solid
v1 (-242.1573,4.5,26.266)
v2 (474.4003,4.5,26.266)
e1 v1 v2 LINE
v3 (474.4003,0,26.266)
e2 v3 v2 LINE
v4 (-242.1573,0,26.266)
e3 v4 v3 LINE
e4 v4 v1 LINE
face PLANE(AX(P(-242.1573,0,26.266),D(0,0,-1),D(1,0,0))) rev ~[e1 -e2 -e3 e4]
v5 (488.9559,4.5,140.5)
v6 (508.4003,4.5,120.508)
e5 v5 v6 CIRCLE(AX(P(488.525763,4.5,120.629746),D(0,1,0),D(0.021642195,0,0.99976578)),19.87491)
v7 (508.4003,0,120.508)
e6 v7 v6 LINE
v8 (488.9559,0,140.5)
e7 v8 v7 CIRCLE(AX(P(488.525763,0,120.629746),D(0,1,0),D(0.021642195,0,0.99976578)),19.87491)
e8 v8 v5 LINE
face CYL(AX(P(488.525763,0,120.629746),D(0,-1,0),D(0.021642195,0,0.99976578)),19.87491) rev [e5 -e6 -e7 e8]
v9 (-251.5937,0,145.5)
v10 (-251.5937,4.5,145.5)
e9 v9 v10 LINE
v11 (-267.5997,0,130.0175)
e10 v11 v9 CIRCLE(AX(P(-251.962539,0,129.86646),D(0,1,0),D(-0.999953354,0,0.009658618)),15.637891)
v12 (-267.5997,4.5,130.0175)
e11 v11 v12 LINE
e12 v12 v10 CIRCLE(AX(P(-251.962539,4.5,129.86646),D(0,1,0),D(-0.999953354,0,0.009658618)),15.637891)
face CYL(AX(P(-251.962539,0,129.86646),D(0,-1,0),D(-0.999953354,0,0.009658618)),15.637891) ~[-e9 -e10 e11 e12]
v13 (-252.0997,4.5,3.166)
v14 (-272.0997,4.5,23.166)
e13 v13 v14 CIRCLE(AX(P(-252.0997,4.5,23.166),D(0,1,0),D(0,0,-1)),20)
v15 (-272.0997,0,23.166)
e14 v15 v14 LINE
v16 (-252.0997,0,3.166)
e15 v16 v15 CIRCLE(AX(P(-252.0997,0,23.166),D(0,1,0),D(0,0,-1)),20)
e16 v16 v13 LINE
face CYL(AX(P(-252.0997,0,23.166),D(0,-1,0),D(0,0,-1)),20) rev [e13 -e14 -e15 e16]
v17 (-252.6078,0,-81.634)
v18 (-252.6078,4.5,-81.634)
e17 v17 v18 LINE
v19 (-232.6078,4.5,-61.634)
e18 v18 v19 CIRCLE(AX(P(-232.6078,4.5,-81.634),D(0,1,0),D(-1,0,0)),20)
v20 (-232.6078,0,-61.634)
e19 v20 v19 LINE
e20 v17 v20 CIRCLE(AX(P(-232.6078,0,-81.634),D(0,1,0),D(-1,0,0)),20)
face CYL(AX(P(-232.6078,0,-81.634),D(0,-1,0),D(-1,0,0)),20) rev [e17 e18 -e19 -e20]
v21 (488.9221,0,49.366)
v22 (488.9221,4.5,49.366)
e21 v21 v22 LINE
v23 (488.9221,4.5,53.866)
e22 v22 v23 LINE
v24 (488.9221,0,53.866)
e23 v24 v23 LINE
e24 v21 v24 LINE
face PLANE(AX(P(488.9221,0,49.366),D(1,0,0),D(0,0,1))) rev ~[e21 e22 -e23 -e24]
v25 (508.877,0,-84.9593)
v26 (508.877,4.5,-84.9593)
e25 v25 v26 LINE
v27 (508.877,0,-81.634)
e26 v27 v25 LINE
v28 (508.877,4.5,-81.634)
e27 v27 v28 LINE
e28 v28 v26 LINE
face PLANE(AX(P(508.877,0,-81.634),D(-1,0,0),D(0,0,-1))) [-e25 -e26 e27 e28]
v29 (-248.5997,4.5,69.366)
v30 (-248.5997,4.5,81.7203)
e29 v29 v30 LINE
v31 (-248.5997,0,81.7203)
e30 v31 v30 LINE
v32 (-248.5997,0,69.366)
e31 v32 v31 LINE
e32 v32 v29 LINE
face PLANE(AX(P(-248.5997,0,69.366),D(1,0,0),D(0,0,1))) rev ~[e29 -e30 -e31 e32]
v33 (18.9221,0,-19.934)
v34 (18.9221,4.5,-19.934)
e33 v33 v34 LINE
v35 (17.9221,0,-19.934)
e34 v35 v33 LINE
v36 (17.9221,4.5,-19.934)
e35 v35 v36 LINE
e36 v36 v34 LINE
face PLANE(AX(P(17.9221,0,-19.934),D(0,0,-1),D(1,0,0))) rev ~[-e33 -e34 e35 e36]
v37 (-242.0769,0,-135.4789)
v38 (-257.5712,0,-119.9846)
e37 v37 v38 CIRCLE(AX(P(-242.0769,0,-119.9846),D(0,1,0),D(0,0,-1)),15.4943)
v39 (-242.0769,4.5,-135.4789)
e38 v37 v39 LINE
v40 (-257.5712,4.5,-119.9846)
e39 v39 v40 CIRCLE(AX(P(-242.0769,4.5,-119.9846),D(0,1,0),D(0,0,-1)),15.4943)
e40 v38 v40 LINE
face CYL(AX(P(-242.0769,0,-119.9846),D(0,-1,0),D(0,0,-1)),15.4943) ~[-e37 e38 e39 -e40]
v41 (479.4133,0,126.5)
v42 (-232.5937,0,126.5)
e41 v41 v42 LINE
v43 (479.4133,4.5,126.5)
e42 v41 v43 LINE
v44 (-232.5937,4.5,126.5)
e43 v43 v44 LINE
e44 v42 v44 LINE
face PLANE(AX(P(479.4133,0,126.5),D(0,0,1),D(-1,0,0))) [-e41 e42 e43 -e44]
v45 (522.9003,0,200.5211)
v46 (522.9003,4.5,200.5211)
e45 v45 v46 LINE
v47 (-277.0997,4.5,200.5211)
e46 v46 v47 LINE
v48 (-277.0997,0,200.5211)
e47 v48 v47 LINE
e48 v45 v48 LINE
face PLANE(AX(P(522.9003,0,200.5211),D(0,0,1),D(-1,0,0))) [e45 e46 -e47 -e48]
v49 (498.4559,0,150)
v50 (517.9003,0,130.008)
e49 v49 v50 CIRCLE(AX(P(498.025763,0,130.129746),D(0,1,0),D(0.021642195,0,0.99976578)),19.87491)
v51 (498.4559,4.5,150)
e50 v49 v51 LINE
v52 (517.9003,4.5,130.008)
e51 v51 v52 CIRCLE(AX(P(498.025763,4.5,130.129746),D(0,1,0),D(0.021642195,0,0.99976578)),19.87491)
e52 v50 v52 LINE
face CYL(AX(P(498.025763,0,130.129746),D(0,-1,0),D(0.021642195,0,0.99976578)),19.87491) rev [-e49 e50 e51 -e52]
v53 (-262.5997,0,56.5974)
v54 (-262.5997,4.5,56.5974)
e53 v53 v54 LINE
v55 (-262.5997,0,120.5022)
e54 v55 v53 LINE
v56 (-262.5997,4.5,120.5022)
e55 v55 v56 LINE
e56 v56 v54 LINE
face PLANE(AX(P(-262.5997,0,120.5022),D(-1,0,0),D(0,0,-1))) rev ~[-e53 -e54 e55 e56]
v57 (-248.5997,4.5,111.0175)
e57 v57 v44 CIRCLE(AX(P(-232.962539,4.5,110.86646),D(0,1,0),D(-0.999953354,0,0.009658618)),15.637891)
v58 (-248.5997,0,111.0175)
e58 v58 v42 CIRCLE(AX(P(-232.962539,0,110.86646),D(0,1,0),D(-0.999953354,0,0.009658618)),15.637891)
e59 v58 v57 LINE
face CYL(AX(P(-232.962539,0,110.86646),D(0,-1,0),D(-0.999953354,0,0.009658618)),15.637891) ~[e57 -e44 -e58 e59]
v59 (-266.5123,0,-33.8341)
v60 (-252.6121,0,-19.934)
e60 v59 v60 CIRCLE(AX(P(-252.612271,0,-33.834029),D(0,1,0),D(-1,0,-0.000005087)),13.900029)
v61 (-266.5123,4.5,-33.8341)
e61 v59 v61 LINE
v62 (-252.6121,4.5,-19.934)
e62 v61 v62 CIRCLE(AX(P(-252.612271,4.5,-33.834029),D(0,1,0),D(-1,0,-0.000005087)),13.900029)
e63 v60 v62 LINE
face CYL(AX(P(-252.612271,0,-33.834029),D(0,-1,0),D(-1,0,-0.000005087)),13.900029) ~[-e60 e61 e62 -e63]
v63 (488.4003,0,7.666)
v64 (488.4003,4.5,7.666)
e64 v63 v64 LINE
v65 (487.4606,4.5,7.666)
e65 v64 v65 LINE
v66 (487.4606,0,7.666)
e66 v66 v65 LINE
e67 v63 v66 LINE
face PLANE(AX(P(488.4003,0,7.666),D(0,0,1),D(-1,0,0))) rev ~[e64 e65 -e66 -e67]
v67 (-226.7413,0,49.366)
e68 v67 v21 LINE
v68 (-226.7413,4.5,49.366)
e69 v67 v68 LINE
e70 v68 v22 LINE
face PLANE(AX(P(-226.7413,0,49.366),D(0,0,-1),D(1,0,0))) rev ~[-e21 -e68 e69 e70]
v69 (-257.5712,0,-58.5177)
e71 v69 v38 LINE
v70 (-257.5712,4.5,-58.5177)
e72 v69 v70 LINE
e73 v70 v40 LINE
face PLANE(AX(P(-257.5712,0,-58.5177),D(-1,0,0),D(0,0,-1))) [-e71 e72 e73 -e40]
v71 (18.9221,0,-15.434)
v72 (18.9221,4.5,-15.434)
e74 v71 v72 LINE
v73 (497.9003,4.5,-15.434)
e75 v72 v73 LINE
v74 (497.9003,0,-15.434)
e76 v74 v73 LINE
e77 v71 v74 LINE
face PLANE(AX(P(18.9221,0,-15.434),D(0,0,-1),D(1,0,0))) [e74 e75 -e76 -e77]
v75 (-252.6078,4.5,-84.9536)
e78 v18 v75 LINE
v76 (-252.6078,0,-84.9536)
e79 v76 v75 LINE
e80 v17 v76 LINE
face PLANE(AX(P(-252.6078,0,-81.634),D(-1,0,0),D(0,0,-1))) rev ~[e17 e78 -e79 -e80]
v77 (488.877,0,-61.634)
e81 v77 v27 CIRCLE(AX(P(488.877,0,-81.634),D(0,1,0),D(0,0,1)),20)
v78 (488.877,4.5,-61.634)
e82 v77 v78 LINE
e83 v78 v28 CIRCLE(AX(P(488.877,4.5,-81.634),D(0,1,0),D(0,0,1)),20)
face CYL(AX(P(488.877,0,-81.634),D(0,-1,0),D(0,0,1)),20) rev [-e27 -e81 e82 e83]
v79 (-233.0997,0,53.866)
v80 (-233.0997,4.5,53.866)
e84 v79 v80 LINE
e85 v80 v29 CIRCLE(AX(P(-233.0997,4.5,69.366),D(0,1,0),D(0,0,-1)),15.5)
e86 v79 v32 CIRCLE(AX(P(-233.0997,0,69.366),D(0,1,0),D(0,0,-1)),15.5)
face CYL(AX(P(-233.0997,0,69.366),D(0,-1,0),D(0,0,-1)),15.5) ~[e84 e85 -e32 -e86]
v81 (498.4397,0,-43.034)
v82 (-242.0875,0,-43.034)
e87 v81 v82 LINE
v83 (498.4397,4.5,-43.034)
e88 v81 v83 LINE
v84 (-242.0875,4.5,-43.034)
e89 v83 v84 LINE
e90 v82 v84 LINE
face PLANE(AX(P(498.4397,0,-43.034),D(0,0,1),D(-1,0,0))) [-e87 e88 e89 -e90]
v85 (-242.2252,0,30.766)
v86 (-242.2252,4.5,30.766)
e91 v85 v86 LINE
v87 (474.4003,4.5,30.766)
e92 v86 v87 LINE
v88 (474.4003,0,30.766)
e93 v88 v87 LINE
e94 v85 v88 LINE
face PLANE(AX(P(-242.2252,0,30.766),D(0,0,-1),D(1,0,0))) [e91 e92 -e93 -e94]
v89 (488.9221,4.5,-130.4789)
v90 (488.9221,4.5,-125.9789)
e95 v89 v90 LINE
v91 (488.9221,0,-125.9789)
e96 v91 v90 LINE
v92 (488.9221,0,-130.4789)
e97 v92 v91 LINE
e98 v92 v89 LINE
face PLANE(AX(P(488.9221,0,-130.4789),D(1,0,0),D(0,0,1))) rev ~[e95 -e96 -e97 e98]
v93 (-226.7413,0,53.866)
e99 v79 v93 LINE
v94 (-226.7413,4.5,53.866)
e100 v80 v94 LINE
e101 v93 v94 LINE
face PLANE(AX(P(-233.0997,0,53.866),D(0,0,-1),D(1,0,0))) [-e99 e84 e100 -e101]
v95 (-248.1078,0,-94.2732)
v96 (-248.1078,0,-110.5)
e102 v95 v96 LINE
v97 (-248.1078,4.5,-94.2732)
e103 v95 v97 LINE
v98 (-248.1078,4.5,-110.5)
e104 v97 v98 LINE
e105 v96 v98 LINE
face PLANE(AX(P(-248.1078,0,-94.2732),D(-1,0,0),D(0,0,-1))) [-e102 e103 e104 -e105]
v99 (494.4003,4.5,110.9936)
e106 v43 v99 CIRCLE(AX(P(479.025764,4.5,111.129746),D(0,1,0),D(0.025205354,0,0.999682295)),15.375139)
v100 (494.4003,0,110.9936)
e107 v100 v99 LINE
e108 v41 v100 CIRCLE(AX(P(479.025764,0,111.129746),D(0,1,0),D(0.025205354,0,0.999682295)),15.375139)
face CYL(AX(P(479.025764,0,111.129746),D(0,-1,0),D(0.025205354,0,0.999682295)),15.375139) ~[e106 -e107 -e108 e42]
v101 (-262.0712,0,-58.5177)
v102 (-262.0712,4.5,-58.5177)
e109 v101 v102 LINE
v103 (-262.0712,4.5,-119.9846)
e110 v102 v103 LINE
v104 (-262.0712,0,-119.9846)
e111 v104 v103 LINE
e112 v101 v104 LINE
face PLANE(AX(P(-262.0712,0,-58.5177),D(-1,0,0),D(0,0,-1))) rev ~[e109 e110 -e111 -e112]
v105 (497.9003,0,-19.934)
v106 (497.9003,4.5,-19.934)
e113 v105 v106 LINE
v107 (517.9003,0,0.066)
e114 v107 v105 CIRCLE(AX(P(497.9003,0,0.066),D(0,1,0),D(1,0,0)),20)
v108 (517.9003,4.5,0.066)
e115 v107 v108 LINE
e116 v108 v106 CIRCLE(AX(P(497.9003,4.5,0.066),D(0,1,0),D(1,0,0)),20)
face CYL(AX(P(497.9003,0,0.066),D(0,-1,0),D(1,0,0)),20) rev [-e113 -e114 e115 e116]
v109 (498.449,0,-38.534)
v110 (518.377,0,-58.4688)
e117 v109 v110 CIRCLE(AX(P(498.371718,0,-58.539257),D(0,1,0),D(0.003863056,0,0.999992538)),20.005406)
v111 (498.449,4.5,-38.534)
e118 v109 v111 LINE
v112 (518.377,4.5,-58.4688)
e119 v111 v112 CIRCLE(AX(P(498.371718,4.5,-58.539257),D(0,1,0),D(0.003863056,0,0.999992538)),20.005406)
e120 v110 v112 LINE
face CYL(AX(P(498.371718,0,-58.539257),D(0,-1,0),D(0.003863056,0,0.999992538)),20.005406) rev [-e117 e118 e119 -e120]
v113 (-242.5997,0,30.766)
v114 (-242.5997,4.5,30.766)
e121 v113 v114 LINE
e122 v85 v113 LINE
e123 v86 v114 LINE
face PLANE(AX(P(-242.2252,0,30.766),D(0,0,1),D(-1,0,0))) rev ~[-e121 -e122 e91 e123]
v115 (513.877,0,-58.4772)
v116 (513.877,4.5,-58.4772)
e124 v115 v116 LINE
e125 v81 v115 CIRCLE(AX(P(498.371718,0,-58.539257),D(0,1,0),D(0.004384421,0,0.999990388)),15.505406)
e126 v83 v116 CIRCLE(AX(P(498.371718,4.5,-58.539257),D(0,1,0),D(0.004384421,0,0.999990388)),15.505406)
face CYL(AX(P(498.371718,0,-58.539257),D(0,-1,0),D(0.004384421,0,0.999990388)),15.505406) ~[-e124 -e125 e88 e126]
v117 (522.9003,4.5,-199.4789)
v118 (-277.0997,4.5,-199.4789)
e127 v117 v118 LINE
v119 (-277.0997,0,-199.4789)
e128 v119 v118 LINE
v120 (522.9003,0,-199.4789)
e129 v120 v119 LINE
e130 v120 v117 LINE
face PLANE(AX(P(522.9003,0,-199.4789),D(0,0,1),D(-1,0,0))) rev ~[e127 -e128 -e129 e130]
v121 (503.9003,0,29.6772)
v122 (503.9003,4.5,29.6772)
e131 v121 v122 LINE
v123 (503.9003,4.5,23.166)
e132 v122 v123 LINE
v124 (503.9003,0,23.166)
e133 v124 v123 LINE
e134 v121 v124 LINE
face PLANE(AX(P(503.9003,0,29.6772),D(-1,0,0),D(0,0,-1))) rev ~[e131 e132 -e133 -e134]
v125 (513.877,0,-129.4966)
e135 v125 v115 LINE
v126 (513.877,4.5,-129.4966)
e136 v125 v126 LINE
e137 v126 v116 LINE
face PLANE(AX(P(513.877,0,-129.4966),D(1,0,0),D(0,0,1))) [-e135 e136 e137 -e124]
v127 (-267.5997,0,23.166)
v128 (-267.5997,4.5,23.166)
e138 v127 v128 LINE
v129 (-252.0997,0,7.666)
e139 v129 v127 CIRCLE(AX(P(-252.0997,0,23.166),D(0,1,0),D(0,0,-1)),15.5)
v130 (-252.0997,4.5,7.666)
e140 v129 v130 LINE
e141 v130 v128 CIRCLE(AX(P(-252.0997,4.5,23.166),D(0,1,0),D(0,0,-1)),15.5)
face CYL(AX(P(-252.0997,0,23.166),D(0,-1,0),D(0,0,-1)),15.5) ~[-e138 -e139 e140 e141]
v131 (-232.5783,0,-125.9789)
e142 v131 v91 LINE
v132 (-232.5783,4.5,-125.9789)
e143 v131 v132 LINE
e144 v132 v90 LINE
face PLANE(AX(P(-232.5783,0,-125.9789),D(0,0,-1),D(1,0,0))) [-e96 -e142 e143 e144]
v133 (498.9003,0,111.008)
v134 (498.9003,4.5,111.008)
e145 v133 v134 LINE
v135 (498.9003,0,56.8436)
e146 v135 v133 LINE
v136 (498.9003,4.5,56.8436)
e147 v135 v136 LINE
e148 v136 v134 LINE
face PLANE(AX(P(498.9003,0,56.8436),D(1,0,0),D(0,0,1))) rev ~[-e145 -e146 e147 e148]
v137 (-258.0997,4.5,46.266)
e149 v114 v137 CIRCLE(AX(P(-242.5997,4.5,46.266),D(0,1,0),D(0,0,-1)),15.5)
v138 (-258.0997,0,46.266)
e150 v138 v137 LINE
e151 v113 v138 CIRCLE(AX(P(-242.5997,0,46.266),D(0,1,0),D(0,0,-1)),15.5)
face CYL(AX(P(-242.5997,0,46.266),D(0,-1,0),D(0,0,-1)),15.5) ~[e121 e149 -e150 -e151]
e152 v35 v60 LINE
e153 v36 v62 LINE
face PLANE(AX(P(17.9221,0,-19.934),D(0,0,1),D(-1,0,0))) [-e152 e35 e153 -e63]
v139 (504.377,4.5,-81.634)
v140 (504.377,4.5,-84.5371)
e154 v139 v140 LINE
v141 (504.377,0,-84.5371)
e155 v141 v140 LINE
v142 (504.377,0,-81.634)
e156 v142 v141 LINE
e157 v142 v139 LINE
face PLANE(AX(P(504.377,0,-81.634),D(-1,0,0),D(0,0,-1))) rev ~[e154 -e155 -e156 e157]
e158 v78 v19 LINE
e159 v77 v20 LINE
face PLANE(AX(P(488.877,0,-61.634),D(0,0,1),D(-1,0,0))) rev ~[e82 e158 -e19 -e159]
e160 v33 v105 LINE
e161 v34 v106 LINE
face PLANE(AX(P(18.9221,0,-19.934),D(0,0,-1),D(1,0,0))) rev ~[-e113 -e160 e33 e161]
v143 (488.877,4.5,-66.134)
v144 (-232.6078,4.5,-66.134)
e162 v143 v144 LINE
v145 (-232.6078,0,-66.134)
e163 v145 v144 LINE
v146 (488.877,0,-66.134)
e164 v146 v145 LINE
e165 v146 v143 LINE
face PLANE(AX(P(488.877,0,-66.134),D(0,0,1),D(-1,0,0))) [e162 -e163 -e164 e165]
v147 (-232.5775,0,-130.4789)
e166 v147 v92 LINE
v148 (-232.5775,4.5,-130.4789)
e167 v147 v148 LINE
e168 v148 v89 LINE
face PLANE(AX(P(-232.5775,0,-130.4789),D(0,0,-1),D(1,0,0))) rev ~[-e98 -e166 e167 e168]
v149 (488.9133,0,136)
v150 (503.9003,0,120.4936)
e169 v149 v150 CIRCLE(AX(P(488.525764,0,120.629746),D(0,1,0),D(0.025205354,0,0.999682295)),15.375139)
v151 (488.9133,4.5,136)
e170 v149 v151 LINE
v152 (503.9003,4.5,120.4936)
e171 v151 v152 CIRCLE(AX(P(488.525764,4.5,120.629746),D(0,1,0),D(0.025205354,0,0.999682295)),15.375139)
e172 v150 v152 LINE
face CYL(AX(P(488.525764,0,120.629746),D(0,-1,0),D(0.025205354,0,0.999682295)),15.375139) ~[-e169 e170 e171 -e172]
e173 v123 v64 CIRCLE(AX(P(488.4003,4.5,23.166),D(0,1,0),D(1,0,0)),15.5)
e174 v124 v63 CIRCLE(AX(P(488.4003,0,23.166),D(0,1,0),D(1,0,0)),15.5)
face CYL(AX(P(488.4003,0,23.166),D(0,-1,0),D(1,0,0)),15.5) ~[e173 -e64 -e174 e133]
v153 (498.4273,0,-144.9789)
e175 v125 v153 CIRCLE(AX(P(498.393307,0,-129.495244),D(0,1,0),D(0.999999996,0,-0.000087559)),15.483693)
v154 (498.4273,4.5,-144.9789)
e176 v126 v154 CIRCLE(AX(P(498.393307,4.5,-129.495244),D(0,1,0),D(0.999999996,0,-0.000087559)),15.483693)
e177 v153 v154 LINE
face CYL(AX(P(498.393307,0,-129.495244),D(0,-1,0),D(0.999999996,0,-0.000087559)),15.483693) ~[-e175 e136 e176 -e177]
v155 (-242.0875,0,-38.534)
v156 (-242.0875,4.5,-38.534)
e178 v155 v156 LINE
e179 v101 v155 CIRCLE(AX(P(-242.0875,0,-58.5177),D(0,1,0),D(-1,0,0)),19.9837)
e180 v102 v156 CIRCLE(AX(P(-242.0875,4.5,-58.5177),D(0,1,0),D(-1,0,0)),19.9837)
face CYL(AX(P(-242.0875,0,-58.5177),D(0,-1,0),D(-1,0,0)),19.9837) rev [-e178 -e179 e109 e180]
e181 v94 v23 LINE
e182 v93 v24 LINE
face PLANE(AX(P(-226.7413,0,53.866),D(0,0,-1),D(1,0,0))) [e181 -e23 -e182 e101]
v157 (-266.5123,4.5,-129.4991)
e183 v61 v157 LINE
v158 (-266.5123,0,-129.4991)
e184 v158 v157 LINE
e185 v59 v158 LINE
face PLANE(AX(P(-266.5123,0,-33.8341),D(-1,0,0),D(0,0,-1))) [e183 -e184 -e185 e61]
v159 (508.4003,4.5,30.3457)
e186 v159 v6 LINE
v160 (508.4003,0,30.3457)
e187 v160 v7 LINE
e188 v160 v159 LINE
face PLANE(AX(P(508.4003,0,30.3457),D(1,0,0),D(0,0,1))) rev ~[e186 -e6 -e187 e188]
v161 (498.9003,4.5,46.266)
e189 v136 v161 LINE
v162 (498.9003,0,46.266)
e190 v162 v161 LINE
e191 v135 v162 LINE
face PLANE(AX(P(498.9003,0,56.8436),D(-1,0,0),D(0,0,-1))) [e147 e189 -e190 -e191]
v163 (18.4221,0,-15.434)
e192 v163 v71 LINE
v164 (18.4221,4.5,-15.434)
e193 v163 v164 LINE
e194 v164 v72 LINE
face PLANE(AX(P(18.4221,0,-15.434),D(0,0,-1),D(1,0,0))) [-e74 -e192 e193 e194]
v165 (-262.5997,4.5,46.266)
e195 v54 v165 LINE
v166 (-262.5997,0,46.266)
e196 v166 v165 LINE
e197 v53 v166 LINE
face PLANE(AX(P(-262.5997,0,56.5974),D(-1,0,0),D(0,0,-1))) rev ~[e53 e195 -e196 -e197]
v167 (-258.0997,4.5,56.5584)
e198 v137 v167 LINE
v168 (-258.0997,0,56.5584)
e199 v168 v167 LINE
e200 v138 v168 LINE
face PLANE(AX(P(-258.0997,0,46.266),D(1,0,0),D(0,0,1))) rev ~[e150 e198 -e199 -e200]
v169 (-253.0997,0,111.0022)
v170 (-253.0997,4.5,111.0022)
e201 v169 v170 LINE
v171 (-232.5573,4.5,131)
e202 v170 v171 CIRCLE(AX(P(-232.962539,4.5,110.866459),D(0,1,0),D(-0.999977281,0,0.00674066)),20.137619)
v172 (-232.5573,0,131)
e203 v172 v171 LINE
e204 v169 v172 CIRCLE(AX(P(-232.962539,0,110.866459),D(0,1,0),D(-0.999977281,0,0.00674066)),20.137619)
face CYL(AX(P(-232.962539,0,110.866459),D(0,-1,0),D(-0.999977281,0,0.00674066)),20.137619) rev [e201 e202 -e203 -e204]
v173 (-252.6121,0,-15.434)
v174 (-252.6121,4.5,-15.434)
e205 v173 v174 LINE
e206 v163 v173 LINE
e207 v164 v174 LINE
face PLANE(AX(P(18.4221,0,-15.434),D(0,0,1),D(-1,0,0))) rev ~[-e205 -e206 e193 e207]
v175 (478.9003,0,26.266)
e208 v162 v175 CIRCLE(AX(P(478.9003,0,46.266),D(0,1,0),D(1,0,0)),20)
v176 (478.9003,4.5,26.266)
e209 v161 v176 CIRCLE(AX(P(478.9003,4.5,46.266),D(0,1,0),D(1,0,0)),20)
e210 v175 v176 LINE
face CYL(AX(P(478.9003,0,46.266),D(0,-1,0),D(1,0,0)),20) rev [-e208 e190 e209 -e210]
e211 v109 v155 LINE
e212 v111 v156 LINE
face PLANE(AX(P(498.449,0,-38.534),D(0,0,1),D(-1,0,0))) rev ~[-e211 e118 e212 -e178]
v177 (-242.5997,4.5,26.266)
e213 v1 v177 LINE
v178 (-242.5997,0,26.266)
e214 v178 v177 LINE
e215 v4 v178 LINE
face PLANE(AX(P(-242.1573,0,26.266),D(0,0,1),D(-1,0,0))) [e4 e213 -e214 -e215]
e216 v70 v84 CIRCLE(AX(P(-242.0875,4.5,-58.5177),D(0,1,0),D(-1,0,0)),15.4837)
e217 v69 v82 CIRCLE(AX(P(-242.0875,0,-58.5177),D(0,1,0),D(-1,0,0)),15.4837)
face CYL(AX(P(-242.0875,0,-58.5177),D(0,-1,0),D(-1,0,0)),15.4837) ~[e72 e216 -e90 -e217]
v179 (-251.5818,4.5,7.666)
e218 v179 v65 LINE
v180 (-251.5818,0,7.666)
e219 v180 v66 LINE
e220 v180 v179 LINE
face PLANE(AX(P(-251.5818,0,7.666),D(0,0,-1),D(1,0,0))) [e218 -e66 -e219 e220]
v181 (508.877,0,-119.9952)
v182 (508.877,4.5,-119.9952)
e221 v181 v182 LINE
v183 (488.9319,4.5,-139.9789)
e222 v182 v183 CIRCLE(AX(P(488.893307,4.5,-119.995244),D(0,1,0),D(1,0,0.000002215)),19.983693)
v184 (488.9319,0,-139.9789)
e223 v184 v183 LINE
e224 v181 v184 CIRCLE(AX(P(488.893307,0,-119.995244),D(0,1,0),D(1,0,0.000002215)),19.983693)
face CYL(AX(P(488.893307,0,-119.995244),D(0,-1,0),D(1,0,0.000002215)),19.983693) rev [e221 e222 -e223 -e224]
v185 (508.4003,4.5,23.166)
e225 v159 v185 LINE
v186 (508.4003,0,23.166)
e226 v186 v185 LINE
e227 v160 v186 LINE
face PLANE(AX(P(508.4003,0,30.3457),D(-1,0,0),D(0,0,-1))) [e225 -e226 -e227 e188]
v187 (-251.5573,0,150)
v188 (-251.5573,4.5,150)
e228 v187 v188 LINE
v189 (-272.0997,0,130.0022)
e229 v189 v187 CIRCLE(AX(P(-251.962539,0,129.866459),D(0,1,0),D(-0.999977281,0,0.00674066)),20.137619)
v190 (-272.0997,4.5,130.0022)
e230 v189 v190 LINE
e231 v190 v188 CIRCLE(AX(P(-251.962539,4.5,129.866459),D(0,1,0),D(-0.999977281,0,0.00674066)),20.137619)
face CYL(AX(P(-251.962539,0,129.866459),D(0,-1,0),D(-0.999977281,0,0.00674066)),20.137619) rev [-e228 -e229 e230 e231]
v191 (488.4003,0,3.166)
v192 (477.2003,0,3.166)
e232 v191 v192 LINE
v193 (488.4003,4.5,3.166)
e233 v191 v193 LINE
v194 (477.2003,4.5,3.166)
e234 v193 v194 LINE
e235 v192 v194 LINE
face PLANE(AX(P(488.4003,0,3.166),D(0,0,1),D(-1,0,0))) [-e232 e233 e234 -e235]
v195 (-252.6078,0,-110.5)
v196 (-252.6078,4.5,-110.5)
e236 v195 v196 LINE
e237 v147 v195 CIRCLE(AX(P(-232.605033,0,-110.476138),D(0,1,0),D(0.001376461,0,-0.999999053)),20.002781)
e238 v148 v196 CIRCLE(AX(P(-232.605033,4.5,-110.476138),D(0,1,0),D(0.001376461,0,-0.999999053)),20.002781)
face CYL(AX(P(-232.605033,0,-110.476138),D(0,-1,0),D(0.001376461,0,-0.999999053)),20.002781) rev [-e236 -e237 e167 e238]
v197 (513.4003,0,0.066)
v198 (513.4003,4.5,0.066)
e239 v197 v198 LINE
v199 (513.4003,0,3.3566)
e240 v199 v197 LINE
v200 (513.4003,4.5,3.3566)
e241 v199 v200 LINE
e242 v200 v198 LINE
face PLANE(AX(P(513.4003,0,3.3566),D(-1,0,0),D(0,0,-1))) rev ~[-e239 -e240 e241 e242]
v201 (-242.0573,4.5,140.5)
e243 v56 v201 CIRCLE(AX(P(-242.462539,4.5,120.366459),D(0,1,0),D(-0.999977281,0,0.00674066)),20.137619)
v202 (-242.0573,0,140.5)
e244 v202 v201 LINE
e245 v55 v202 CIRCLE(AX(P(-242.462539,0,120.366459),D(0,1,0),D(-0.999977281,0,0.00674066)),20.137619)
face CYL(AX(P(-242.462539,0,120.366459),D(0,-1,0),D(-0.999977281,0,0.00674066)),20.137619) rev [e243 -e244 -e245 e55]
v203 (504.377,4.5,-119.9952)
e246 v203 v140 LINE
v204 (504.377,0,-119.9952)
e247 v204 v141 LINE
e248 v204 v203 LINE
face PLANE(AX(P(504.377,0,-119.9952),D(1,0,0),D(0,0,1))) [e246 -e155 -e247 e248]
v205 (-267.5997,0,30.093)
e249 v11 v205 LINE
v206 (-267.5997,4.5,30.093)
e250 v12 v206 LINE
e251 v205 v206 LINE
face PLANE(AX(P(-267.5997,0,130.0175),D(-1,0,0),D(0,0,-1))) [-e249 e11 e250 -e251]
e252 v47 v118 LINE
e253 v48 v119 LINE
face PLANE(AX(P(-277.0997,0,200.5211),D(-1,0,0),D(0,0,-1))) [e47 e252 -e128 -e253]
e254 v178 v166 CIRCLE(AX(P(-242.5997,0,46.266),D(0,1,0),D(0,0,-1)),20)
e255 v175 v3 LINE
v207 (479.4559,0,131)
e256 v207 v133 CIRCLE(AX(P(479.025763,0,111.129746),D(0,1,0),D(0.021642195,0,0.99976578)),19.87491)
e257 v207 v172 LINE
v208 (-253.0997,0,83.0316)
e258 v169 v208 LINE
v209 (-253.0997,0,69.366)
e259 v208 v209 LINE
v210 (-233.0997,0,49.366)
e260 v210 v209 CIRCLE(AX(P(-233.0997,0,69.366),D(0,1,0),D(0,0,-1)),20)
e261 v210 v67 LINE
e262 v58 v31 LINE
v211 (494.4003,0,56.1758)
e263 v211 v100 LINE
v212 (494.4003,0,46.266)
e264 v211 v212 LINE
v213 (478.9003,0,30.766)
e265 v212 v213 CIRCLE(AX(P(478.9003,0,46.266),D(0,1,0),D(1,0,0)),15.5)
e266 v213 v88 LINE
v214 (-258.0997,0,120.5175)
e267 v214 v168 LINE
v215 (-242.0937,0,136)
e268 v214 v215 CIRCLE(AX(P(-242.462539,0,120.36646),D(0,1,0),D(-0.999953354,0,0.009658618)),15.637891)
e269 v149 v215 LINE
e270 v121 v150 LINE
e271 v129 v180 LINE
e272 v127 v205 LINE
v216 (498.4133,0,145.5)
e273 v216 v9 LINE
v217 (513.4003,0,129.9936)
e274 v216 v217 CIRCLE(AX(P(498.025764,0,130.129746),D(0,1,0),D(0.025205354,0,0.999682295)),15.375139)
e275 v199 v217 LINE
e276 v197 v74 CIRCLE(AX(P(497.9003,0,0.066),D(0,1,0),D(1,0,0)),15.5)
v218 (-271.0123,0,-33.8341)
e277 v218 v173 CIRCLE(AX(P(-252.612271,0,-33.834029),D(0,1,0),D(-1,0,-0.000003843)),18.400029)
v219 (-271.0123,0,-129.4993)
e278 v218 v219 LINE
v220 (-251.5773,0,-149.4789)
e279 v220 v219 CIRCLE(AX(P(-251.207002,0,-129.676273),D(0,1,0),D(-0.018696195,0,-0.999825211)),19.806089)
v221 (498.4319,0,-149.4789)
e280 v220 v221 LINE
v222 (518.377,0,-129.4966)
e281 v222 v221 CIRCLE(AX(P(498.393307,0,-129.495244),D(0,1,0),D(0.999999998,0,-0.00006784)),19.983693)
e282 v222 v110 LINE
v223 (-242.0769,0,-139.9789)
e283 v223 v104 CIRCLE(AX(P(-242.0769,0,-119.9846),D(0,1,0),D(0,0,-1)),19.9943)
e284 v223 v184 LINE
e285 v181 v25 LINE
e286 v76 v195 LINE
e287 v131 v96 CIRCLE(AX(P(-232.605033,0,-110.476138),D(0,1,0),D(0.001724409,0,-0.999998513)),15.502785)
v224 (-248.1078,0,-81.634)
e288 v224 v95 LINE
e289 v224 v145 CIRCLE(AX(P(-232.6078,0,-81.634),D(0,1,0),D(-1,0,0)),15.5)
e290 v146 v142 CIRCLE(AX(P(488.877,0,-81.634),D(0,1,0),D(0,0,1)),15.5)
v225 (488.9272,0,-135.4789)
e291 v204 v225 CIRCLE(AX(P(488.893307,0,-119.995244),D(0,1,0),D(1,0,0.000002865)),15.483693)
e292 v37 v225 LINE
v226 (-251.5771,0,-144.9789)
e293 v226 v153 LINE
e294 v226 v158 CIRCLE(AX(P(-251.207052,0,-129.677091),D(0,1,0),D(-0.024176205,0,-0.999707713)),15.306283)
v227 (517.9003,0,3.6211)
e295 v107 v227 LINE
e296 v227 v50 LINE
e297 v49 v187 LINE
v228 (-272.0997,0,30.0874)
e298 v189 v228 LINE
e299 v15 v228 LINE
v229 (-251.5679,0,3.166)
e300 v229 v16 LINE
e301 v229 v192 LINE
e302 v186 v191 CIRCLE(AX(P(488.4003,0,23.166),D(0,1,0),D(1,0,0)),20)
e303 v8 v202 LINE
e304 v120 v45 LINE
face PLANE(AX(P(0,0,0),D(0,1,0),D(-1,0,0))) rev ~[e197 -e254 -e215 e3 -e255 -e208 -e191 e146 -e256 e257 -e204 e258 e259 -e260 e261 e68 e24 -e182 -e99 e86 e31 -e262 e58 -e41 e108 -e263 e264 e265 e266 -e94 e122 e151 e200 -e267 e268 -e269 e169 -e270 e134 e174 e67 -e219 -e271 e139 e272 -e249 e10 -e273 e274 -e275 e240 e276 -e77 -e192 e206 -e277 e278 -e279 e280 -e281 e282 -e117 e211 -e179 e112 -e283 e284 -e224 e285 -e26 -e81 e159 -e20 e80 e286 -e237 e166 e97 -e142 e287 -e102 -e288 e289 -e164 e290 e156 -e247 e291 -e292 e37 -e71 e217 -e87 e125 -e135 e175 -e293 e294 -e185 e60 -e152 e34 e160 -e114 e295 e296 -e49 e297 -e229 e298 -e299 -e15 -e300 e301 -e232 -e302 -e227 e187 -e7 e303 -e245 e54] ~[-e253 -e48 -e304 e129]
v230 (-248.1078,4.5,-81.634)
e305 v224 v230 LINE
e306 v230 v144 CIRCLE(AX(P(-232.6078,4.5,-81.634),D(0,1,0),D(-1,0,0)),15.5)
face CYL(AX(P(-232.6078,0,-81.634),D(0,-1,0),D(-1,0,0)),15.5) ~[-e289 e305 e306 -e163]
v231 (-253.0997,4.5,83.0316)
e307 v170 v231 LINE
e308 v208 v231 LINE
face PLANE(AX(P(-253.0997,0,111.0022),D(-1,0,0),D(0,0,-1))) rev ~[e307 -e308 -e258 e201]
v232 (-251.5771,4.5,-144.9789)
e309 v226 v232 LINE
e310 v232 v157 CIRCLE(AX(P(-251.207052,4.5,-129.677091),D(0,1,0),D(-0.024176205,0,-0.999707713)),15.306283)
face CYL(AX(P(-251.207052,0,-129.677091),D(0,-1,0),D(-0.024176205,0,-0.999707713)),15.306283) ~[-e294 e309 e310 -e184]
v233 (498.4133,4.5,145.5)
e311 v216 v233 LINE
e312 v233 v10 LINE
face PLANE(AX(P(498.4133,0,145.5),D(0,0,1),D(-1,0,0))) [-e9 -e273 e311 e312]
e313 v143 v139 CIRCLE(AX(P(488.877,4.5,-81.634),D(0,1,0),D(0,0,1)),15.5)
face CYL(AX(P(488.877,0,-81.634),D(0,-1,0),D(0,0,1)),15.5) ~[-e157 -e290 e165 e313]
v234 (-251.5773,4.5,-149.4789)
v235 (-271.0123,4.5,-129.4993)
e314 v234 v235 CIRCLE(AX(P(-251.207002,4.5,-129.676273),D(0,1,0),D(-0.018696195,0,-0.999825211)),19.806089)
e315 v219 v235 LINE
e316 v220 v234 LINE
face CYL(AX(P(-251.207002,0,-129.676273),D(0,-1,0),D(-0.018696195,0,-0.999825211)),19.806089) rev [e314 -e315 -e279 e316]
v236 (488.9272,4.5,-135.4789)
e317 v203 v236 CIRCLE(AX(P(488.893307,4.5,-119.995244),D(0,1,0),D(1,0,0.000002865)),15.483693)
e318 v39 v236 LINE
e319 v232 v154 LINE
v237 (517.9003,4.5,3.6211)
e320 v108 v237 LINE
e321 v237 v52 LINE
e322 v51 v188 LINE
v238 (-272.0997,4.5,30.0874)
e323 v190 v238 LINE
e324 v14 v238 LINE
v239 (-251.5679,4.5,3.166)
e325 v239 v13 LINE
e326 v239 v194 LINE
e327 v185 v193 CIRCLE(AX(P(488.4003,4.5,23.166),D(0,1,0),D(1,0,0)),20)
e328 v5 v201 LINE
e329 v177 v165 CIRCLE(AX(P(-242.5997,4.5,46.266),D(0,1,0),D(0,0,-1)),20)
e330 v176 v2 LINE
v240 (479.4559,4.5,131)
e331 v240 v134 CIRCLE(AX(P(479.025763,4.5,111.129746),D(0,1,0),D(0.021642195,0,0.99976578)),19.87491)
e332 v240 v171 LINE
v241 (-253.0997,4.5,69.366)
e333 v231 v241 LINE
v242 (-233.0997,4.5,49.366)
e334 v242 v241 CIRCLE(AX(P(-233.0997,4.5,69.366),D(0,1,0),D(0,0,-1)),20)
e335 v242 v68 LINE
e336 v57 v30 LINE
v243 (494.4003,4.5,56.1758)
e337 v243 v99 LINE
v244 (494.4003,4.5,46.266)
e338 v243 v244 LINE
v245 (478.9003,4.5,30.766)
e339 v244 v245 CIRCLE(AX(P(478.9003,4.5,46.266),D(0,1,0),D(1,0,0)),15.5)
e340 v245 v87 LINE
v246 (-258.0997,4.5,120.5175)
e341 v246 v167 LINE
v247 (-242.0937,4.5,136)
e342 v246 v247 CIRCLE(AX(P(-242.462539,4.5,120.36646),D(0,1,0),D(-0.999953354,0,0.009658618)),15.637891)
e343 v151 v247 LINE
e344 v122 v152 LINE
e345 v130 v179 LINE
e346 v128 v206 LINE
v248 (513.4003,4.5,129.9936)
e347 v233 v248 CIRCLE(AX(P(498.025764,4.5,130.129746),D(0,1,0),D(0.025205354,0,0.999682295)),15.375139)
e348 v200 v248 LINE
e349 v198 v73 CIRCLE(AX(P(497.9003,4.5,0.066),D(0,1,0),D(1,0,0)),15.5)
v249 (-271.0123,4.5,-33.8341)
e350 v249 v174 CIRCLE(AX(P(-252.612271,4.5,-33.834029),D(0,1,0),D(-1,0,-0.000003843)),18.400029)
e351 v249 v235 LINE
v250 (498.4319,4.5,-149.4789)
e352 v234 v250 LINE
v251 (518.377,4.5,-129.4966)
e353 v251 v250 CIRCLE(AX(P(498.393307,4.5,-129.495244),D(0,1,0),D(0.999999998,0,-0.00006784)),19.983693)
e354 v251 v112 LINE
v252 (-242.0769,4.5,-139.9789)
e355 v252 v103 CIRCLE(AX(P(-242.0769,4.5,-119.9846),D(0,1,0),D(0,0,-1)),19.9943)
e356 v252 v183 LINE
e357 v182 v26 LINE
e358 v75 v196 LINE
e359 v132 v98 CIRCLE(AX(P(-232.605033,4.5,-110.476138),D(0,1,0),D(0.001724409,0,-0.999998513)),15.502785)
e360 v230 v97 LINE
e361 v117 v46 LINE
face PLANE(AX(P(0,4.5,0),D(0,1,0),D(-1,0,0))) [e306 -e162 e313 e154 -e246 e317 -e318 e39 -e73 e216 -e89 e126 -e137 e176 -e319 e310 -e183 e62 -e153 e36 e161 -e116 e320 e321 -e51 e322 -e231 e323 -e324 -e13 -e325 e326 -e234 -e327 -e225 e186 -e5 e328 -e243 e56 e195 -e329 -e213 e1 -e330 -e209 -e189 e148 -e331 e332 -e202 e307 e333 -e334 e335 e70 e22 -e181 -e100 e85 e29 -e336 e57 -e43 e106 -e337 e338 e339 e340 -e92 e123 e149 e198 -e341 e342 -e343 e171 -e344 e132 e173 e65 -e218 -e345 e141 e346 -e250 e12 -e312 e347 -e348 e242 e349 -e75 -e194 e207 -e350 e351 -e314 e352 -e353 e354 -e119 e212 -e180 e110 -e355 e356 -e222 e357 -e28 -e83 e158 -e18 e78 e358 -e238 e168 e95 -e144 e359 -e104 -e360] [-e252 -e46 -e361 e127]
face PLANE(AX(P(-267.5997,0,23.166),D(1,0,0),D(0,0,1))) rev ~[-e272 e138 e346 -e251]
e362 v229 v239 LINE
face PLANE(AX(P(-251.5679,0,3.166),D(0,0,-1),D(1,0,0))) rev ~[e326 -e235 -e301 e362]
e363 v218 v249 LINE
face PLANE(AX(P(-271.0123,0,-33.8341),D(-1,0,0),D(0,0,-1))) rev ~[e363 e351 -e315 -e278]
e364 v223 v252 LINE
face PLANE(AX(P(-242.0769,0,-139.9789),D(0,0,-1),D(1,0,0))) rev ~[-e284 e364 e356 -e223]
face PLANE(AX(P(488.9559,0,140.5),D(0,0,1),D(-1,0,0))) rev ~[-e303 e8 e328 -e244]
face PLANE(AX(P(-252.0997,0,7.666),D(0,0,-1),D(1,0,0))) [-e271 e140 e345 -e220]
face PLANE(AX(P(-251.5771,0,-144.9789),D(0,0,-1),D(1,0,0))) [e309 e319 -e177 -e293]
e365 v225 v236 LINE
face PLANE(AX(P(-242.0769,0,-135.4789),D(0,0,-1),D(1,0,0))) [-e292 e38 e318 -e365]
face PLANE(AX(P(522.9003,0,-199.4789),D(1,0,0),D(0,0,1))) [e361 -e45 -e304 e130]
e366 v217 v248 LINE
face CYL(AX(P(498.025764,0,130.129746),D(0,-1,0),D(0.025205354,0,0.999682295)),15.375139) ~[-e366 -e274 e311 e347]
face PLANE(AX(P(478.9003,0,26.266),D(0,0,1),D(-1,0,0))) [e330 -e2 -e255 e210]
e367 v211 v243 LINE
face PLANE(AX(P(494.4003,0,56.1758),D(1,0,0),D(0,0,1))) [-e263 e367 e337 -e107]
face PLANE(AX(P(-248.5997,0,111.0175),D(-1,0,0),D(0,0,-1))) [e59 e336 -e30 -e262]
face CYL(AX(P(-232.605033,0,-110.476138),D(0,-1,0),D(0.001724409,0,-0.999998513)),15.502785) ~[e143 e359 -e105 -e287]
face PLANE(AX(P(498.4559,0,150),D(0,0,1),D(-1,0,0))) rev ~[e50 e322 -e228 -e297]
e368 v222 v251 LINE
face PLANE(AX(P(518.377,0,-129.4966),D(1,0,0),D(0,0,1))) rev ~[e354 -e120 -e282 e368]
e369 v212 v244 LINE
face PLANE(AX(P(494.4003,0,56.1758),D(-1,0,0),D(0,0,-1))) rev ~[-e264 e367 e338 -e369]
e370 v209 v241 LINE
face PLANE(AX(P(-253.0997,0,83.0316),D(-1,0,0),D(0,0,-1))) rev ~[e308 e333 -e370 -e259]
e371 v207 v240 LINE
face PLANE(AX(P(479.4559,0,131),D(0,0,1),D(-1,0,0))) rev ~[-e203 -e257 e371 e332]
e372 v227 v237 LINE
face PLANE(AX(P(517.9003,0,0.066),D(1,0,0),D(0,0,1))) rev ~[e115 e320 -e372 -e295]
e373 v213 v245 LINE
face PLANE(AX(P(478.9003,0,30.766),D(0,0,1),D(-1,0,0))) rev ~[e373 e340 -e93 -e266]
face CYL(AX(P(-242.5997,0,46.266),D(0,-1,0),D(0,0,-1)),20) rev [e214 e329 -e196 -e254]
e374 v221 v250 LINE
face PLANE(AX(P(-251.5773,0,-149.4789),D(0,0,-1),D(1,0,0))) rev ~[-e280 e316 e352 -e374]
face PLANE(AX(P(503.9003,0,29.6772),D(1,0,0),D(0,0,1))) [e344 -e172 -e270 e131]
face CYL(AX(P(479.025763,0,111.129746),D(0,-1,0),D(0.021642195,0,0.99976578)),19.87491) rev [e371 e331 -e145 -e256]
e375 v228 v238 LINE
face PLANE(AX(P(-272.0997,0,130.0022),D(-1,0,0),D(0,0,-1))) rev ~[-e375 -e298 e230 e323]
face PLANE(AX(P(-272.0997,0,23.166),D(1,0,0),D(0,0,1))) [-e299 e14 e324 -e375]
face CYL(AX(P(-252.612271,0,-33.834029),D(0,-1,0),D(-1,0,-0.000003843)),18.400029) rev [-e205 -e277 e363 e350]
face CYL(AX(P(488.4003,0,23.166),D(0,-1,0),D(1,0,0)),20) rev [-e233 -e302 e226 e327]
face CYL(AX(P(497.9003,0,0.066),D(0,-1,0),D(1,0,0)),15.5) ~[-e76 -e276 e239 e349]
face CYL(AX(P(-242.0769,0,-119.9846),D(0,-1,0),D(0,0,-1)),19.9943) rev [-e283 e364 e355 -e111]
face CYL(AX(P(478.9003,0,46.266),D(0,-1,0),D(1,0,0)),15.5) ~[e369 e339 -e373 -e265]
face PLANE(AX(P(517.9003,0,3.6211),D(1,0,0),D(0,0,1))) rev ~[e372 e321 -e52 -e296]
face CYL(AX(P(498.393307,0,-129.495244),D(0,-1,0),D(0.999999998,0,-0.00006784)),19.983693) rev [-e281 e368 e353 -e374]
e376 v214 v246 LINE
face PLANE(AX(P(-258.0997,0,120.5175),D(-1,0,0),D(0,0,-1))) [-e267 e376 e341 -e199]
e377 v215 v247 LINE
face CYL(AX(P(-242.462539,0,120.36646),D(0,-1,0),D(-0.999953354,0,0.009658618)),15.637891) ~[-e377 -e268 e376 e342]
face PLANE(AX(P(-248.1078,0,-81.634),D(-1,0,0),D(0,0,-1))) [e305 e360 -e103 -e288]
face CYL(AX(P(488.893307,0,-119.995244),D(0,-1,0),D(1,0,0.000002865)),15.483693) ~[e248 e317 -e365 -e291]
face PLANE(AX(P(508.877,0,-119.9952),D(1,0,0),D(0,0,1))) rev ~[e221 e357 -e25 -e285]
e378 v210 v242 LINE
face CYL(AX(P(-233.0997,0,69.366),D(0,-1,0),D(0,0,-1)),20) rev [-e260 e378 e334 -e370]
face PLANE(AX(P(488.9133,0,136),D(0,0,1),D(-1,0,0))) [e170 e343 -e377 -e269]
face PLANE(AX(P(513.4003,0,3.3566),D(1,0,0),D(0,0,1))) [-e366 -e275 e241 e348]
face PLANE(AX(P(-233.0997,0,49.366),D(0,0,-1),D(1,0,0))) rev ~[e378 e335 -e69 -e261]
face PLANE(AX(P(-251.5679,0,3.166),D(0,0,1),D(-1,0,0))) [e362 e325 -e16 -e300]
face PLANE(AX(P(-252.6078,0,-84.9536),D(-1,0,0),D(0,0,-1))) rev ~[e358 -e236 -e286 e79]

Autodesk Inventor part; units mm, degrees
ref_plane "YZ Plane" through (0, 0, 0) normal (1, 0, 0) x (0, 1, 0)
ref_plane "XZ Plane" through (0, 0, 0) normal (0, 1, 0) x (-1, 0, 0)
ref_plane "XY Plane" through (0, 0, 0) normal (0, 0, 1) x (1, 0, 0)
sketch "Sketch1" plane through (0, 0, 0) normal (0, 1, 0) x (-1, 0, 0)
  line L0 (-17.9221, -19.934) -> (-497.9003, -19.934)
  line L1 (-517.9003, 3.6211) -> (-517.9003, 130.008)
  line L2 (-498.4559, 150) -> (251.5573, 150)
  line L3 (272.0997, 130.0022) -> (272.0997, 30.0874)
  line L4 (-18.4221, -15.434) -> (-497.9003, -15.434)
  line L5 (-513.4003, 3.3566) -> (-513.4003, 129.9936)
  line L6 (-498.4133, 145.5) -> (251.5937, 145.5)
  line L7 (267.5997, 130.0175) -> (267.5997, 30.093)
  line L8 (251.5818, 7.666) -> (-487.4606, 7.666)
  line L9 (-503.9003, 29.6772) -> (-503.9003, 120.4936)
  line L10 (251.5679, 3.166) -> (-477.2003, 3.166)
  line L11 (-508.4003, 30.3457) -> (-508.4003, 120.508)
  line L12 (-488.9133, 136) -> (242.0937, 136)
  line L13 (-488.9559, 140.5) -> (242.0573, 140.5)
  line L14 (258.0997, 120.5175) -> (258.0997, 56.5584)
  line L15 (242.2252, 30.766) -> (-474.4003, 30.766)
  line L16 (262.5997, 120.5022) -> (262.5997, 56.5974)
  line L17 (242.1573, 26.266) -> (-474.4003, 26.266)
  line L18 (-494.4003, 56.1758) -> (-494.4003, 110.9936)
  line L19 (-479.4133, 126.5) -> (232.5937, 126.5)
  line L20 (248.5997, 111.0175) -> (248.5997, 81.7203)
  line L21 (226.7413, 53.866) -> (-488.9221, 53.866)
  line L22 (-498.9003, 56.8436) -> (-498.9003, 111.008)
  line L23 (-479.4559, 131) -> (232.5573, 131)
  line L24 (253.0997, 111.0022) -> (253.0997, 83.0316)
  line L25 (226.7413, 49.366) -> (-488.9221, 49.366)
  line L26 (-122.9221, 150) -> (-122.9221, -150) construction
  line L27 (-18.9221, -15.434) -> (252.6121, -15.434)
  line L28 (271.0123, -33.8341) -> (271.0123, -129.4993)
  line L29 (251.5773, -149.4789) -> (-498.4319, -149.4789)
  line L30 (-518.377, -129.4966) -> (-518.377, -58.4688)
  line L31 (-18.9221, -19.934) -> (252.6121, -19.934)
  line L32 (266.5123, -33.8341) -> (266.5123, -129.4991)
  line L33 (251.5771, -144.9789) -> (-498.4273, -144.9789)
  line L34 (-498.449, -38.534) -> (242.0875, -38.534)
  line L35 (262.0712, -58.5177) -> (262.0712, -119.9846)
  line L36 (242.0769, -139.9789) -> (-488.9319, -139.9789)
  line L37 (-513.877, -129.4966) -> (-513.877, -58.4772)
  line L38 (-498.4397, -43.034) -> (242.0875, -43.034)
  line L39 (257.5712, -58.5177) -> (257.5712, -119.9846)
  line L40 (242.0769, -135.4789) -> (-488.9272, -135.4789)
  line L41 (-504.377, -119.9952) -> (-504.377, -84.5371)
  line L42 (-508.877, -119.9952) -> (-508.877, -84.9593)
  line L43 (-488.877, -61.634) -> (232.6078, -61.634)
  line L44 (252.6078, -84.9536) -> (252.6078, -110.5)
  line L45 (-488.877, -66.134) -> (232.6078, -66.134)
  line L46 (248.1078, -94.2732) -> (248.1078, -110.5)
  line L47 (232.5783, -125.9789) -> (-488.9221, -125.9789)
  line L48 (232.5775, -130.4789) -> (-488.9221, -130.4789)
  line L49 (-522.9003, 200.5211) -> (277.0997, 200.5211)
  arc A0 (251.5773, -149.4789) -> (271.0123, -129.4993) centre (251.2071, -129.6765) ccw
  arc A1 (251.5771, -144.9789) -> (266.5123, -129.4991) centre (251.2071, -129.6772) ccw
  arc A2 (242.0769, -135.4789) -> (257.5712, -119.9846) centre (242.0769, -119.9846) ccw
  arc A3 (242.0769, -139.9789) -> (262.0712, -119.9846) centre (242.0769, -119.9846) ccw
  arc A4 (232.5775, -130.4789) -> (252.6078, -110.5) centre (232.6051, -110.4763) ccw
  arc A5 (232.5783, -125.9789) -> (248.1078, -110.5) centre (232.6051, -110.4763) ccw
  line L50 (266.0656, -58.5177) -> (242.0875, -58.5177) construction
  line L51 (242.0875, -58.5177) -> (242.0875, -27) construction
  arc A6 (257.5712, -58.5177) -> (242.0875, -43.034) centre (242.0875, -58.5177) ccw
  arc A7 (262.0712, -58.5177) -> (242.0875, -38.534) centre (242.0875, -58.5177) ccw
  line L52 (252.6121, -3.7302) -> (252.6121, -33.8341) construction
  line L53 (252.6121, -33.8341) -> (272.6377, -33.8341) construction
  arc A8 (266.5123, -33.8341) -> (252.6121, -19.934) centre (252.6121, -33.8341) ccw
  arc A9 (271.0123, -33.8341) -> (252.6121, -15.434) centre (252.6121, -33.8341) ccw
  arc A10 (-518.377, -129.4966) -> (-498.4319, -149.4789) centre (-498.3932, -129.4952) ccw
  arc A11 (-513.877, -129.4966) -> (-498.4273, -144.9789) centre (-498.3932, -129.4952) ccw
  arc A12 (-508.877, -119.9952) -> (-488.9319, -139.9789) centre (-488.8932, -119.9952) ccw
  line L54 (-488.9221, -130.4789) -> (-488.9221, -125.9789)
  arc A13 (-504.377, -119.9952) -> (-488.9272, -135.4789) centre (-488.8932, -119.9952) ccw
  arc A14 (-498.4397, -43.034) -> (-513.877, -58.4772) centre (-498.3717, -58.5393) ccw
  arc A15 (-498.449, -38.534) -> (-518.377, -58.4688) centre (-498.3717, -58.5393) ccw
  line L55 (-488.9221, 49.366) -> (-488.9221, 53.866)
  arc A16 (-479.4133, 126.5) -> (-494.4003, 110.9936) centre (-479.0257, 111.1296) ccw
  arc A17 (-479.4559, 131) -> (-498.9003, 111.008) centre (-479.0257, 111.1296) ccw
  arc A18 (-488.9133, 136) -> (-503.9003, 120.4936) centre (-488.5257, 120.6296) ccw
  arc A19 (-488.9559, 140.5) -> (-508.4003, 120.508) centre (-488.5257, 120.6296) ccw
  arc A20 (-498.4133, 145.5) -> (-513.4003, 129.9936) centre (-498.0257, 130.1296) ccw
  arc A21 (-498.4559, 150) -> (-517.9003, 130.008) centre (-498.0257, 130.1296) ccw
  arc A22 (248.5997, 111.0175) -> (232.5937, 126.5) centre (232.9624, 110.8664) ccw
  arc A23 (253.0997, 111.0022) -> (232.5573, 131) centre (232.9624, 110.8664) ccw
  arc A24 (258.0997, 120.5175) -> (242.0937, 136) centre (242.4624, 120.3664) ccw
  arc A25 (262.5997, 120.5022) -> (242.0573, 140.5) centre (242.4624, 120.3664) ccw
  arc A26 (267.5997, 130.0175) -> (251.5937, 145.5) centre (251.9624, 129.8664) ccw
  arc A27 (272.0997, 130.0022) -> (251.5573, 150) centre (251.9624, 129.8664) ccw
  line L56 (-522.9003, -199.4789) -> (-522.9003, 200.5211)
  line L57 (267.5997, 30.093) -> (267.5997, 7.666) construction
  line L58 (267.5997, 7.666) -> (251.5818, 7.666) construction
  line L59 (242.1573, 26.266) -> (242.5997, 26.266) construction
  line L60 (262.5997, 26.266) -> (262.5997, 56.5974) construction
  line L61 (258.0997, 56.5584) -> (258.0997, 42.8204) construction
  line L62 (233.0997, 49.366) -> (253.0997, 49.366) construction
  line L63 (253.0997, 49.366) -> (253.0997, 83.0316) construction
  line L64 (248.5997, 81.7203) -> (248.5997, 53.866) construction
  line L65 (248.5997, 53.866) -> (232.2009, 53.866) construction
  line L66 (-494.4003, 56.1758) -> (-494.4003, 46.266) construction
  line L67 (-478.9003, 30.766) -> (-477.2003, 30.766) construction
  line L68 (-479.5767, 26.266) -> (-498.9003, 26.266) construction
  line L69 (-498.9003, 49.366) -> (-498.9003, 56.8436) construction
  line L70 (-487.4606, 7.666) -> (-503.9003, 7.666) construction
  line L71 (-503.9003, 29.6772) -> (-503.9003, 7.666) construction
  line L72 (-508.4003, 30.3457) -> (-508.4003, 23.166) construction
  line L73 (-508.4003, 3.166) -> (-489.0292, 3.166) construction
  line L74 (-498.4417, -15.434) -> (-513.4003, -15.434) construction
  line L75 (-517.9003, -19.934) -> (-498.4419, -19.934) construction
  line L76 (248.1078, -84.54) -> (248.1078, -66.134) construction
  line L77 (248.1078, -66.134) -> (232.6078, -66.134) construction
  line L78 (232.6078, -61.634) -> (252.6078, -61.634) construction
  line L79 (252.6078, -61.634) -> (252.6078, -84.9536) construction
  line L80 (-488.877, -61.634) -> (-508.877, -61.634) construction
  line L81 (-508.877, -61.634) -> (-508.877, -84.9593) construction
  line L82 (-488.877, -66.134) -> (-504.377, -66.134) construction
  line L83 (-504.377, -66.134) -> (-504.377, -84.5371) construction
  line L84 (-508.877, -61.634) -> (-508.877, -84.9593) construction
  line L85 (-498.9003, 26.266) -> (-488.9221, 26.266) construction
  line L86 (-478.9003, 26.266) -> (-478.9003, 46.266) construction
  line L87 (-478.9003, 46.266) -> (-498.9003, 46.266) construction
  line L88 (-494.4003, 50.766) -> (-494.4003, 46.266) construction
  line L89 (-474.4003, 30.766) -> (-474.4003, 26.266) construction
  arc A28 (-498.9003, 46.266) -> (-478.9003, 26.266) centre (-478.9003, 46.266) ccw
  arc A29 (-494.4003, 46.266) -> (-478.9003, 30.766) centre (-478.9003, 46.266) ccw
  line L90 (-498.9003, 56.8436) -> (-498.9003, 46.266)
  line L91 (-494.4003, 56.1758) -> (-494.4003, 46.266)
  line L92 (-478.9003, 30.766) -> (-474.4003, 30.766)
  line L93 (-478.9003, 26.266) -> (-474.4003, 26.266)
  line L94 (-488.4003, 3.166) -> (-488.4003, 23.166) construction
  line L95 (-488.4003, 23.166) -> (-508.4003, 23.166) construction
  arc A30 (-503.9003, 23.166) -> (-488.4003, 7.666) centre (-488.4003, 23.166) ccw
  line L96 (-488.4003, 7.666) -> (-487.4606, 7.666)
  line L97 (-477.2003, 9.3706) -> (-477.2003, 0.2696) construction
  arc A31 (-508.4003, 23.166) -> (-488.4003, 3.166) centre (-488.4003, 23.166) ccw
  line L98 (-508.4003, 30.3457) -> (-508.4003, 23.166)
  line L99 (-503.9003, 29.6772) -> (-503.9003, 23.166)
  line L100 (-488.4003, 3.166) -> (-477.2003, 3.166)
  line L101 (226.7413, 56.1758) -> (226.7413, 43.6622) construction
  arc A32 (233.0997, 53.866) -> (248.5997, 69.366) centre (233.0997, 69.366) ccw
  arc A33 (233.0997, 49.366) -> (253.0997, 69.366) centre (233.0997, 69.366) ccw
  line L102 (233.0997, 53.866) -> (226.7413, 53.866)
  line L103 (233.0997, 49.366) -> (226.7413, 49.366) construction
  line L104 (233.0997, 49.366) -> (226.7413, 49.366)
  line L105 (248.5997, 69.366) -> (248.5997, 81.7203)
  line L106 (253.0997, 83.0316) -> (253.0997, 69.366)
  line L107 (242.5997, 29.7117) -> (242.5997, 46.266) construction
  line L108 (242.5997, 46.266) -> (262.5997, 46.266) construction
  line L109 (242.1573, 26.266) -> (242.5997, 26.266) construction
  line L110 (242.1573, 26.266) -> (242.5997, 26.266)
  arc A34 (242.5997, 30.766) -> (258.0997, 46.266) centre (242.5997, 46.266) ccw
  arc A35 (242.5997, 26.266) -> (262.5997, 46.266) centre (242.5997, 46.266) ccw
  line L111 (258.0997, 46.266) -> (258.0997, 56.5584)
  line L112 (262.5997, 56.5974) -> (262.5997, 46.266)
  line L113 (242.2252, 30.766) -> (242.5997, 30.766)
  arc A36 (252.0997, 7.666) -> (267.5997, 23.166) centre (252.0997, 23.166) ccw
  line L114 (252.0997, 7.666) -> (251.5818, 7.666)
  line L115 (267.5997, 23.166) -> (267.5997, 30.093)
  arc A37 (252.0997, 3.166) -> (272.0997, 23.166) centre (252.0997, 23.166) ccw
  line L116 (251.5679, 3.166) -> (252.0997, 3.166)
  line L117 (272.0997, 23.166) -> (272.0997, 30.0874)
  arc A38 (-513.4003, 0.066) -> (-497.9003, -15.434) centre (-497.9003, 0.066) ccw
  arc A39 (-517.9003, 0.066) -> (-497.9003, -19.934) centre (-497.9003, 0.066) ccw
  line L118 (-517.9003, 0.066) -> (-517.9003, 3.6211)
  line L119 (-513.4003, 3.3566) -> (-513.4003, 0.066)
  line L120 (232.6078, -50.9214) -> (232.6078, -81.634) construction
  line L121 (232.6078, -81.634) -> (253.5598, -81.634) construction
  arc A40 (252.6078, -81.634) -> (232.6078, -61.634) centre (232.6078, -81.634) ccw
  arc A41 (248.1078, -81.634) -> (232.6078, -66.134) centre (232.6078, -81.634) ccw
  line L122 (252.6078, -81.634) -> (252.6078, -84.9536)
  line L123 (248.1078, -81.634) -> (248.1078, -94.2732)
  line L124 (-522.4266, -81.634) -> (-488.877, -81.634) construction
  line L125 (-488.877, -81.634) -> (-488.877, -54.4584) construction
  arc A42 (-488.877, -61.634) -> (-508.877, -81.634) centre (-488.877, -81.634) ccw
  arc A43 (-488.877, -66.134) -> (-504.377, -81.634) centre (-488.877, -81.634) ccw
  line L126 (-508.877, -81.634) -> (-508.877, -84.9593)
  line L127 (-504.377, -81.634) -> (-504.377, -84.5371)
  line L128 (-595.5051, -6.134) -> (317.0651, -6.134) construction
  line L129 (-522.9003, -199.4789) -> (277.0997, -199.4789) construction
  line L130 (277.0997, -199.4789) -> (277.0997, 200.5211) construction
  line L131 (-522.9003, -199.4789) -> (277.0997, -199.4789)
  line L132 (277.0997, 200.5211) -> (277.0997, -199.4789)
  point P0 (-228.9877, 0)
  point P1 (257.5779, -125.9789)
  point P2 (257.5712, -58.5177)
  dimension "d2" = 4.5
  dimension "d3" = 4.5
  dimension "d4" = 4.5
  dimension "d5" = 5
  dimension "d6" = 5
  dimension "d7" = 4.5
  dimension "d8" = 4.5
  dimension "d9" = 4.5
  dimension "d10" = 5
  dimension "d11" = 790
  dimension "d12" = 18.6
  dimension "d13" = 4.5
  dimension "d14" = 4.5
  dimension "d15" = 18.6
  dimension "d16" = 5
  dimension "d17" = 5
  dimension "d18" = 4.5
  dimension "d19" = 5
  dimension "d20" = 18.6
  dimension "d21" = 4.5
  dimension "d22" = 4.5
  dimension "d23" = 4.5
  dimension "d30" = 4.5
  dimension "d31" = 4.5
  dimension "d32" = 4.5
  dimension "d34" = 500
  dimension "d35" = 4.5
  dimension "d36" = 4.5
  dimension "d38" = 4.5
  dimension "d39" = 18.6
  dimension "d40" = 4.5
  dimension "d41" = 5
  dimension "d42" = 4.5
  dimension "d43" = 4.5
  dimension "d44" = 4.5
  dimension "d46" = 18.6
  dimension "d47" = 5
  dimension "d48" = 4.5
  dimension "d49" = 5
  dimension "d80" = 4.5
  dimension "d81" = 0
  dimension "d254" = 9.3
  dimension "d259" = 50
  dimension "d261" = 400
extrude "Extrusion7" add sketch "Sketch1" along normal blind 4.5
equation "\"d6\" = d26"
equation "\"d10\" = d26"
equation "\"d16\" = d26"
equation "\"d19\" = d25"
equation "\"d34\" = 0.5 * d52"
equation "\"d41\" = d53"
equation "\"d47\" = d53"
equation "\"d49\" = d53"
equation "\"d25\" = 5"
equation "\"d26\" = 5"
equation "\"d28\" = -1.2 * d25 + 0.2 * d29"
equation "\"d51\" = 5"
equation "\"d53\" = 5"
equation "\"d54\" = -1.2 * d51 + 0.2 * d55"
equation "\"d29\" = 140"
equation "\"d55\" = 140"
equation "\"d52\" = 1000"
properties part number "coil_layer"
